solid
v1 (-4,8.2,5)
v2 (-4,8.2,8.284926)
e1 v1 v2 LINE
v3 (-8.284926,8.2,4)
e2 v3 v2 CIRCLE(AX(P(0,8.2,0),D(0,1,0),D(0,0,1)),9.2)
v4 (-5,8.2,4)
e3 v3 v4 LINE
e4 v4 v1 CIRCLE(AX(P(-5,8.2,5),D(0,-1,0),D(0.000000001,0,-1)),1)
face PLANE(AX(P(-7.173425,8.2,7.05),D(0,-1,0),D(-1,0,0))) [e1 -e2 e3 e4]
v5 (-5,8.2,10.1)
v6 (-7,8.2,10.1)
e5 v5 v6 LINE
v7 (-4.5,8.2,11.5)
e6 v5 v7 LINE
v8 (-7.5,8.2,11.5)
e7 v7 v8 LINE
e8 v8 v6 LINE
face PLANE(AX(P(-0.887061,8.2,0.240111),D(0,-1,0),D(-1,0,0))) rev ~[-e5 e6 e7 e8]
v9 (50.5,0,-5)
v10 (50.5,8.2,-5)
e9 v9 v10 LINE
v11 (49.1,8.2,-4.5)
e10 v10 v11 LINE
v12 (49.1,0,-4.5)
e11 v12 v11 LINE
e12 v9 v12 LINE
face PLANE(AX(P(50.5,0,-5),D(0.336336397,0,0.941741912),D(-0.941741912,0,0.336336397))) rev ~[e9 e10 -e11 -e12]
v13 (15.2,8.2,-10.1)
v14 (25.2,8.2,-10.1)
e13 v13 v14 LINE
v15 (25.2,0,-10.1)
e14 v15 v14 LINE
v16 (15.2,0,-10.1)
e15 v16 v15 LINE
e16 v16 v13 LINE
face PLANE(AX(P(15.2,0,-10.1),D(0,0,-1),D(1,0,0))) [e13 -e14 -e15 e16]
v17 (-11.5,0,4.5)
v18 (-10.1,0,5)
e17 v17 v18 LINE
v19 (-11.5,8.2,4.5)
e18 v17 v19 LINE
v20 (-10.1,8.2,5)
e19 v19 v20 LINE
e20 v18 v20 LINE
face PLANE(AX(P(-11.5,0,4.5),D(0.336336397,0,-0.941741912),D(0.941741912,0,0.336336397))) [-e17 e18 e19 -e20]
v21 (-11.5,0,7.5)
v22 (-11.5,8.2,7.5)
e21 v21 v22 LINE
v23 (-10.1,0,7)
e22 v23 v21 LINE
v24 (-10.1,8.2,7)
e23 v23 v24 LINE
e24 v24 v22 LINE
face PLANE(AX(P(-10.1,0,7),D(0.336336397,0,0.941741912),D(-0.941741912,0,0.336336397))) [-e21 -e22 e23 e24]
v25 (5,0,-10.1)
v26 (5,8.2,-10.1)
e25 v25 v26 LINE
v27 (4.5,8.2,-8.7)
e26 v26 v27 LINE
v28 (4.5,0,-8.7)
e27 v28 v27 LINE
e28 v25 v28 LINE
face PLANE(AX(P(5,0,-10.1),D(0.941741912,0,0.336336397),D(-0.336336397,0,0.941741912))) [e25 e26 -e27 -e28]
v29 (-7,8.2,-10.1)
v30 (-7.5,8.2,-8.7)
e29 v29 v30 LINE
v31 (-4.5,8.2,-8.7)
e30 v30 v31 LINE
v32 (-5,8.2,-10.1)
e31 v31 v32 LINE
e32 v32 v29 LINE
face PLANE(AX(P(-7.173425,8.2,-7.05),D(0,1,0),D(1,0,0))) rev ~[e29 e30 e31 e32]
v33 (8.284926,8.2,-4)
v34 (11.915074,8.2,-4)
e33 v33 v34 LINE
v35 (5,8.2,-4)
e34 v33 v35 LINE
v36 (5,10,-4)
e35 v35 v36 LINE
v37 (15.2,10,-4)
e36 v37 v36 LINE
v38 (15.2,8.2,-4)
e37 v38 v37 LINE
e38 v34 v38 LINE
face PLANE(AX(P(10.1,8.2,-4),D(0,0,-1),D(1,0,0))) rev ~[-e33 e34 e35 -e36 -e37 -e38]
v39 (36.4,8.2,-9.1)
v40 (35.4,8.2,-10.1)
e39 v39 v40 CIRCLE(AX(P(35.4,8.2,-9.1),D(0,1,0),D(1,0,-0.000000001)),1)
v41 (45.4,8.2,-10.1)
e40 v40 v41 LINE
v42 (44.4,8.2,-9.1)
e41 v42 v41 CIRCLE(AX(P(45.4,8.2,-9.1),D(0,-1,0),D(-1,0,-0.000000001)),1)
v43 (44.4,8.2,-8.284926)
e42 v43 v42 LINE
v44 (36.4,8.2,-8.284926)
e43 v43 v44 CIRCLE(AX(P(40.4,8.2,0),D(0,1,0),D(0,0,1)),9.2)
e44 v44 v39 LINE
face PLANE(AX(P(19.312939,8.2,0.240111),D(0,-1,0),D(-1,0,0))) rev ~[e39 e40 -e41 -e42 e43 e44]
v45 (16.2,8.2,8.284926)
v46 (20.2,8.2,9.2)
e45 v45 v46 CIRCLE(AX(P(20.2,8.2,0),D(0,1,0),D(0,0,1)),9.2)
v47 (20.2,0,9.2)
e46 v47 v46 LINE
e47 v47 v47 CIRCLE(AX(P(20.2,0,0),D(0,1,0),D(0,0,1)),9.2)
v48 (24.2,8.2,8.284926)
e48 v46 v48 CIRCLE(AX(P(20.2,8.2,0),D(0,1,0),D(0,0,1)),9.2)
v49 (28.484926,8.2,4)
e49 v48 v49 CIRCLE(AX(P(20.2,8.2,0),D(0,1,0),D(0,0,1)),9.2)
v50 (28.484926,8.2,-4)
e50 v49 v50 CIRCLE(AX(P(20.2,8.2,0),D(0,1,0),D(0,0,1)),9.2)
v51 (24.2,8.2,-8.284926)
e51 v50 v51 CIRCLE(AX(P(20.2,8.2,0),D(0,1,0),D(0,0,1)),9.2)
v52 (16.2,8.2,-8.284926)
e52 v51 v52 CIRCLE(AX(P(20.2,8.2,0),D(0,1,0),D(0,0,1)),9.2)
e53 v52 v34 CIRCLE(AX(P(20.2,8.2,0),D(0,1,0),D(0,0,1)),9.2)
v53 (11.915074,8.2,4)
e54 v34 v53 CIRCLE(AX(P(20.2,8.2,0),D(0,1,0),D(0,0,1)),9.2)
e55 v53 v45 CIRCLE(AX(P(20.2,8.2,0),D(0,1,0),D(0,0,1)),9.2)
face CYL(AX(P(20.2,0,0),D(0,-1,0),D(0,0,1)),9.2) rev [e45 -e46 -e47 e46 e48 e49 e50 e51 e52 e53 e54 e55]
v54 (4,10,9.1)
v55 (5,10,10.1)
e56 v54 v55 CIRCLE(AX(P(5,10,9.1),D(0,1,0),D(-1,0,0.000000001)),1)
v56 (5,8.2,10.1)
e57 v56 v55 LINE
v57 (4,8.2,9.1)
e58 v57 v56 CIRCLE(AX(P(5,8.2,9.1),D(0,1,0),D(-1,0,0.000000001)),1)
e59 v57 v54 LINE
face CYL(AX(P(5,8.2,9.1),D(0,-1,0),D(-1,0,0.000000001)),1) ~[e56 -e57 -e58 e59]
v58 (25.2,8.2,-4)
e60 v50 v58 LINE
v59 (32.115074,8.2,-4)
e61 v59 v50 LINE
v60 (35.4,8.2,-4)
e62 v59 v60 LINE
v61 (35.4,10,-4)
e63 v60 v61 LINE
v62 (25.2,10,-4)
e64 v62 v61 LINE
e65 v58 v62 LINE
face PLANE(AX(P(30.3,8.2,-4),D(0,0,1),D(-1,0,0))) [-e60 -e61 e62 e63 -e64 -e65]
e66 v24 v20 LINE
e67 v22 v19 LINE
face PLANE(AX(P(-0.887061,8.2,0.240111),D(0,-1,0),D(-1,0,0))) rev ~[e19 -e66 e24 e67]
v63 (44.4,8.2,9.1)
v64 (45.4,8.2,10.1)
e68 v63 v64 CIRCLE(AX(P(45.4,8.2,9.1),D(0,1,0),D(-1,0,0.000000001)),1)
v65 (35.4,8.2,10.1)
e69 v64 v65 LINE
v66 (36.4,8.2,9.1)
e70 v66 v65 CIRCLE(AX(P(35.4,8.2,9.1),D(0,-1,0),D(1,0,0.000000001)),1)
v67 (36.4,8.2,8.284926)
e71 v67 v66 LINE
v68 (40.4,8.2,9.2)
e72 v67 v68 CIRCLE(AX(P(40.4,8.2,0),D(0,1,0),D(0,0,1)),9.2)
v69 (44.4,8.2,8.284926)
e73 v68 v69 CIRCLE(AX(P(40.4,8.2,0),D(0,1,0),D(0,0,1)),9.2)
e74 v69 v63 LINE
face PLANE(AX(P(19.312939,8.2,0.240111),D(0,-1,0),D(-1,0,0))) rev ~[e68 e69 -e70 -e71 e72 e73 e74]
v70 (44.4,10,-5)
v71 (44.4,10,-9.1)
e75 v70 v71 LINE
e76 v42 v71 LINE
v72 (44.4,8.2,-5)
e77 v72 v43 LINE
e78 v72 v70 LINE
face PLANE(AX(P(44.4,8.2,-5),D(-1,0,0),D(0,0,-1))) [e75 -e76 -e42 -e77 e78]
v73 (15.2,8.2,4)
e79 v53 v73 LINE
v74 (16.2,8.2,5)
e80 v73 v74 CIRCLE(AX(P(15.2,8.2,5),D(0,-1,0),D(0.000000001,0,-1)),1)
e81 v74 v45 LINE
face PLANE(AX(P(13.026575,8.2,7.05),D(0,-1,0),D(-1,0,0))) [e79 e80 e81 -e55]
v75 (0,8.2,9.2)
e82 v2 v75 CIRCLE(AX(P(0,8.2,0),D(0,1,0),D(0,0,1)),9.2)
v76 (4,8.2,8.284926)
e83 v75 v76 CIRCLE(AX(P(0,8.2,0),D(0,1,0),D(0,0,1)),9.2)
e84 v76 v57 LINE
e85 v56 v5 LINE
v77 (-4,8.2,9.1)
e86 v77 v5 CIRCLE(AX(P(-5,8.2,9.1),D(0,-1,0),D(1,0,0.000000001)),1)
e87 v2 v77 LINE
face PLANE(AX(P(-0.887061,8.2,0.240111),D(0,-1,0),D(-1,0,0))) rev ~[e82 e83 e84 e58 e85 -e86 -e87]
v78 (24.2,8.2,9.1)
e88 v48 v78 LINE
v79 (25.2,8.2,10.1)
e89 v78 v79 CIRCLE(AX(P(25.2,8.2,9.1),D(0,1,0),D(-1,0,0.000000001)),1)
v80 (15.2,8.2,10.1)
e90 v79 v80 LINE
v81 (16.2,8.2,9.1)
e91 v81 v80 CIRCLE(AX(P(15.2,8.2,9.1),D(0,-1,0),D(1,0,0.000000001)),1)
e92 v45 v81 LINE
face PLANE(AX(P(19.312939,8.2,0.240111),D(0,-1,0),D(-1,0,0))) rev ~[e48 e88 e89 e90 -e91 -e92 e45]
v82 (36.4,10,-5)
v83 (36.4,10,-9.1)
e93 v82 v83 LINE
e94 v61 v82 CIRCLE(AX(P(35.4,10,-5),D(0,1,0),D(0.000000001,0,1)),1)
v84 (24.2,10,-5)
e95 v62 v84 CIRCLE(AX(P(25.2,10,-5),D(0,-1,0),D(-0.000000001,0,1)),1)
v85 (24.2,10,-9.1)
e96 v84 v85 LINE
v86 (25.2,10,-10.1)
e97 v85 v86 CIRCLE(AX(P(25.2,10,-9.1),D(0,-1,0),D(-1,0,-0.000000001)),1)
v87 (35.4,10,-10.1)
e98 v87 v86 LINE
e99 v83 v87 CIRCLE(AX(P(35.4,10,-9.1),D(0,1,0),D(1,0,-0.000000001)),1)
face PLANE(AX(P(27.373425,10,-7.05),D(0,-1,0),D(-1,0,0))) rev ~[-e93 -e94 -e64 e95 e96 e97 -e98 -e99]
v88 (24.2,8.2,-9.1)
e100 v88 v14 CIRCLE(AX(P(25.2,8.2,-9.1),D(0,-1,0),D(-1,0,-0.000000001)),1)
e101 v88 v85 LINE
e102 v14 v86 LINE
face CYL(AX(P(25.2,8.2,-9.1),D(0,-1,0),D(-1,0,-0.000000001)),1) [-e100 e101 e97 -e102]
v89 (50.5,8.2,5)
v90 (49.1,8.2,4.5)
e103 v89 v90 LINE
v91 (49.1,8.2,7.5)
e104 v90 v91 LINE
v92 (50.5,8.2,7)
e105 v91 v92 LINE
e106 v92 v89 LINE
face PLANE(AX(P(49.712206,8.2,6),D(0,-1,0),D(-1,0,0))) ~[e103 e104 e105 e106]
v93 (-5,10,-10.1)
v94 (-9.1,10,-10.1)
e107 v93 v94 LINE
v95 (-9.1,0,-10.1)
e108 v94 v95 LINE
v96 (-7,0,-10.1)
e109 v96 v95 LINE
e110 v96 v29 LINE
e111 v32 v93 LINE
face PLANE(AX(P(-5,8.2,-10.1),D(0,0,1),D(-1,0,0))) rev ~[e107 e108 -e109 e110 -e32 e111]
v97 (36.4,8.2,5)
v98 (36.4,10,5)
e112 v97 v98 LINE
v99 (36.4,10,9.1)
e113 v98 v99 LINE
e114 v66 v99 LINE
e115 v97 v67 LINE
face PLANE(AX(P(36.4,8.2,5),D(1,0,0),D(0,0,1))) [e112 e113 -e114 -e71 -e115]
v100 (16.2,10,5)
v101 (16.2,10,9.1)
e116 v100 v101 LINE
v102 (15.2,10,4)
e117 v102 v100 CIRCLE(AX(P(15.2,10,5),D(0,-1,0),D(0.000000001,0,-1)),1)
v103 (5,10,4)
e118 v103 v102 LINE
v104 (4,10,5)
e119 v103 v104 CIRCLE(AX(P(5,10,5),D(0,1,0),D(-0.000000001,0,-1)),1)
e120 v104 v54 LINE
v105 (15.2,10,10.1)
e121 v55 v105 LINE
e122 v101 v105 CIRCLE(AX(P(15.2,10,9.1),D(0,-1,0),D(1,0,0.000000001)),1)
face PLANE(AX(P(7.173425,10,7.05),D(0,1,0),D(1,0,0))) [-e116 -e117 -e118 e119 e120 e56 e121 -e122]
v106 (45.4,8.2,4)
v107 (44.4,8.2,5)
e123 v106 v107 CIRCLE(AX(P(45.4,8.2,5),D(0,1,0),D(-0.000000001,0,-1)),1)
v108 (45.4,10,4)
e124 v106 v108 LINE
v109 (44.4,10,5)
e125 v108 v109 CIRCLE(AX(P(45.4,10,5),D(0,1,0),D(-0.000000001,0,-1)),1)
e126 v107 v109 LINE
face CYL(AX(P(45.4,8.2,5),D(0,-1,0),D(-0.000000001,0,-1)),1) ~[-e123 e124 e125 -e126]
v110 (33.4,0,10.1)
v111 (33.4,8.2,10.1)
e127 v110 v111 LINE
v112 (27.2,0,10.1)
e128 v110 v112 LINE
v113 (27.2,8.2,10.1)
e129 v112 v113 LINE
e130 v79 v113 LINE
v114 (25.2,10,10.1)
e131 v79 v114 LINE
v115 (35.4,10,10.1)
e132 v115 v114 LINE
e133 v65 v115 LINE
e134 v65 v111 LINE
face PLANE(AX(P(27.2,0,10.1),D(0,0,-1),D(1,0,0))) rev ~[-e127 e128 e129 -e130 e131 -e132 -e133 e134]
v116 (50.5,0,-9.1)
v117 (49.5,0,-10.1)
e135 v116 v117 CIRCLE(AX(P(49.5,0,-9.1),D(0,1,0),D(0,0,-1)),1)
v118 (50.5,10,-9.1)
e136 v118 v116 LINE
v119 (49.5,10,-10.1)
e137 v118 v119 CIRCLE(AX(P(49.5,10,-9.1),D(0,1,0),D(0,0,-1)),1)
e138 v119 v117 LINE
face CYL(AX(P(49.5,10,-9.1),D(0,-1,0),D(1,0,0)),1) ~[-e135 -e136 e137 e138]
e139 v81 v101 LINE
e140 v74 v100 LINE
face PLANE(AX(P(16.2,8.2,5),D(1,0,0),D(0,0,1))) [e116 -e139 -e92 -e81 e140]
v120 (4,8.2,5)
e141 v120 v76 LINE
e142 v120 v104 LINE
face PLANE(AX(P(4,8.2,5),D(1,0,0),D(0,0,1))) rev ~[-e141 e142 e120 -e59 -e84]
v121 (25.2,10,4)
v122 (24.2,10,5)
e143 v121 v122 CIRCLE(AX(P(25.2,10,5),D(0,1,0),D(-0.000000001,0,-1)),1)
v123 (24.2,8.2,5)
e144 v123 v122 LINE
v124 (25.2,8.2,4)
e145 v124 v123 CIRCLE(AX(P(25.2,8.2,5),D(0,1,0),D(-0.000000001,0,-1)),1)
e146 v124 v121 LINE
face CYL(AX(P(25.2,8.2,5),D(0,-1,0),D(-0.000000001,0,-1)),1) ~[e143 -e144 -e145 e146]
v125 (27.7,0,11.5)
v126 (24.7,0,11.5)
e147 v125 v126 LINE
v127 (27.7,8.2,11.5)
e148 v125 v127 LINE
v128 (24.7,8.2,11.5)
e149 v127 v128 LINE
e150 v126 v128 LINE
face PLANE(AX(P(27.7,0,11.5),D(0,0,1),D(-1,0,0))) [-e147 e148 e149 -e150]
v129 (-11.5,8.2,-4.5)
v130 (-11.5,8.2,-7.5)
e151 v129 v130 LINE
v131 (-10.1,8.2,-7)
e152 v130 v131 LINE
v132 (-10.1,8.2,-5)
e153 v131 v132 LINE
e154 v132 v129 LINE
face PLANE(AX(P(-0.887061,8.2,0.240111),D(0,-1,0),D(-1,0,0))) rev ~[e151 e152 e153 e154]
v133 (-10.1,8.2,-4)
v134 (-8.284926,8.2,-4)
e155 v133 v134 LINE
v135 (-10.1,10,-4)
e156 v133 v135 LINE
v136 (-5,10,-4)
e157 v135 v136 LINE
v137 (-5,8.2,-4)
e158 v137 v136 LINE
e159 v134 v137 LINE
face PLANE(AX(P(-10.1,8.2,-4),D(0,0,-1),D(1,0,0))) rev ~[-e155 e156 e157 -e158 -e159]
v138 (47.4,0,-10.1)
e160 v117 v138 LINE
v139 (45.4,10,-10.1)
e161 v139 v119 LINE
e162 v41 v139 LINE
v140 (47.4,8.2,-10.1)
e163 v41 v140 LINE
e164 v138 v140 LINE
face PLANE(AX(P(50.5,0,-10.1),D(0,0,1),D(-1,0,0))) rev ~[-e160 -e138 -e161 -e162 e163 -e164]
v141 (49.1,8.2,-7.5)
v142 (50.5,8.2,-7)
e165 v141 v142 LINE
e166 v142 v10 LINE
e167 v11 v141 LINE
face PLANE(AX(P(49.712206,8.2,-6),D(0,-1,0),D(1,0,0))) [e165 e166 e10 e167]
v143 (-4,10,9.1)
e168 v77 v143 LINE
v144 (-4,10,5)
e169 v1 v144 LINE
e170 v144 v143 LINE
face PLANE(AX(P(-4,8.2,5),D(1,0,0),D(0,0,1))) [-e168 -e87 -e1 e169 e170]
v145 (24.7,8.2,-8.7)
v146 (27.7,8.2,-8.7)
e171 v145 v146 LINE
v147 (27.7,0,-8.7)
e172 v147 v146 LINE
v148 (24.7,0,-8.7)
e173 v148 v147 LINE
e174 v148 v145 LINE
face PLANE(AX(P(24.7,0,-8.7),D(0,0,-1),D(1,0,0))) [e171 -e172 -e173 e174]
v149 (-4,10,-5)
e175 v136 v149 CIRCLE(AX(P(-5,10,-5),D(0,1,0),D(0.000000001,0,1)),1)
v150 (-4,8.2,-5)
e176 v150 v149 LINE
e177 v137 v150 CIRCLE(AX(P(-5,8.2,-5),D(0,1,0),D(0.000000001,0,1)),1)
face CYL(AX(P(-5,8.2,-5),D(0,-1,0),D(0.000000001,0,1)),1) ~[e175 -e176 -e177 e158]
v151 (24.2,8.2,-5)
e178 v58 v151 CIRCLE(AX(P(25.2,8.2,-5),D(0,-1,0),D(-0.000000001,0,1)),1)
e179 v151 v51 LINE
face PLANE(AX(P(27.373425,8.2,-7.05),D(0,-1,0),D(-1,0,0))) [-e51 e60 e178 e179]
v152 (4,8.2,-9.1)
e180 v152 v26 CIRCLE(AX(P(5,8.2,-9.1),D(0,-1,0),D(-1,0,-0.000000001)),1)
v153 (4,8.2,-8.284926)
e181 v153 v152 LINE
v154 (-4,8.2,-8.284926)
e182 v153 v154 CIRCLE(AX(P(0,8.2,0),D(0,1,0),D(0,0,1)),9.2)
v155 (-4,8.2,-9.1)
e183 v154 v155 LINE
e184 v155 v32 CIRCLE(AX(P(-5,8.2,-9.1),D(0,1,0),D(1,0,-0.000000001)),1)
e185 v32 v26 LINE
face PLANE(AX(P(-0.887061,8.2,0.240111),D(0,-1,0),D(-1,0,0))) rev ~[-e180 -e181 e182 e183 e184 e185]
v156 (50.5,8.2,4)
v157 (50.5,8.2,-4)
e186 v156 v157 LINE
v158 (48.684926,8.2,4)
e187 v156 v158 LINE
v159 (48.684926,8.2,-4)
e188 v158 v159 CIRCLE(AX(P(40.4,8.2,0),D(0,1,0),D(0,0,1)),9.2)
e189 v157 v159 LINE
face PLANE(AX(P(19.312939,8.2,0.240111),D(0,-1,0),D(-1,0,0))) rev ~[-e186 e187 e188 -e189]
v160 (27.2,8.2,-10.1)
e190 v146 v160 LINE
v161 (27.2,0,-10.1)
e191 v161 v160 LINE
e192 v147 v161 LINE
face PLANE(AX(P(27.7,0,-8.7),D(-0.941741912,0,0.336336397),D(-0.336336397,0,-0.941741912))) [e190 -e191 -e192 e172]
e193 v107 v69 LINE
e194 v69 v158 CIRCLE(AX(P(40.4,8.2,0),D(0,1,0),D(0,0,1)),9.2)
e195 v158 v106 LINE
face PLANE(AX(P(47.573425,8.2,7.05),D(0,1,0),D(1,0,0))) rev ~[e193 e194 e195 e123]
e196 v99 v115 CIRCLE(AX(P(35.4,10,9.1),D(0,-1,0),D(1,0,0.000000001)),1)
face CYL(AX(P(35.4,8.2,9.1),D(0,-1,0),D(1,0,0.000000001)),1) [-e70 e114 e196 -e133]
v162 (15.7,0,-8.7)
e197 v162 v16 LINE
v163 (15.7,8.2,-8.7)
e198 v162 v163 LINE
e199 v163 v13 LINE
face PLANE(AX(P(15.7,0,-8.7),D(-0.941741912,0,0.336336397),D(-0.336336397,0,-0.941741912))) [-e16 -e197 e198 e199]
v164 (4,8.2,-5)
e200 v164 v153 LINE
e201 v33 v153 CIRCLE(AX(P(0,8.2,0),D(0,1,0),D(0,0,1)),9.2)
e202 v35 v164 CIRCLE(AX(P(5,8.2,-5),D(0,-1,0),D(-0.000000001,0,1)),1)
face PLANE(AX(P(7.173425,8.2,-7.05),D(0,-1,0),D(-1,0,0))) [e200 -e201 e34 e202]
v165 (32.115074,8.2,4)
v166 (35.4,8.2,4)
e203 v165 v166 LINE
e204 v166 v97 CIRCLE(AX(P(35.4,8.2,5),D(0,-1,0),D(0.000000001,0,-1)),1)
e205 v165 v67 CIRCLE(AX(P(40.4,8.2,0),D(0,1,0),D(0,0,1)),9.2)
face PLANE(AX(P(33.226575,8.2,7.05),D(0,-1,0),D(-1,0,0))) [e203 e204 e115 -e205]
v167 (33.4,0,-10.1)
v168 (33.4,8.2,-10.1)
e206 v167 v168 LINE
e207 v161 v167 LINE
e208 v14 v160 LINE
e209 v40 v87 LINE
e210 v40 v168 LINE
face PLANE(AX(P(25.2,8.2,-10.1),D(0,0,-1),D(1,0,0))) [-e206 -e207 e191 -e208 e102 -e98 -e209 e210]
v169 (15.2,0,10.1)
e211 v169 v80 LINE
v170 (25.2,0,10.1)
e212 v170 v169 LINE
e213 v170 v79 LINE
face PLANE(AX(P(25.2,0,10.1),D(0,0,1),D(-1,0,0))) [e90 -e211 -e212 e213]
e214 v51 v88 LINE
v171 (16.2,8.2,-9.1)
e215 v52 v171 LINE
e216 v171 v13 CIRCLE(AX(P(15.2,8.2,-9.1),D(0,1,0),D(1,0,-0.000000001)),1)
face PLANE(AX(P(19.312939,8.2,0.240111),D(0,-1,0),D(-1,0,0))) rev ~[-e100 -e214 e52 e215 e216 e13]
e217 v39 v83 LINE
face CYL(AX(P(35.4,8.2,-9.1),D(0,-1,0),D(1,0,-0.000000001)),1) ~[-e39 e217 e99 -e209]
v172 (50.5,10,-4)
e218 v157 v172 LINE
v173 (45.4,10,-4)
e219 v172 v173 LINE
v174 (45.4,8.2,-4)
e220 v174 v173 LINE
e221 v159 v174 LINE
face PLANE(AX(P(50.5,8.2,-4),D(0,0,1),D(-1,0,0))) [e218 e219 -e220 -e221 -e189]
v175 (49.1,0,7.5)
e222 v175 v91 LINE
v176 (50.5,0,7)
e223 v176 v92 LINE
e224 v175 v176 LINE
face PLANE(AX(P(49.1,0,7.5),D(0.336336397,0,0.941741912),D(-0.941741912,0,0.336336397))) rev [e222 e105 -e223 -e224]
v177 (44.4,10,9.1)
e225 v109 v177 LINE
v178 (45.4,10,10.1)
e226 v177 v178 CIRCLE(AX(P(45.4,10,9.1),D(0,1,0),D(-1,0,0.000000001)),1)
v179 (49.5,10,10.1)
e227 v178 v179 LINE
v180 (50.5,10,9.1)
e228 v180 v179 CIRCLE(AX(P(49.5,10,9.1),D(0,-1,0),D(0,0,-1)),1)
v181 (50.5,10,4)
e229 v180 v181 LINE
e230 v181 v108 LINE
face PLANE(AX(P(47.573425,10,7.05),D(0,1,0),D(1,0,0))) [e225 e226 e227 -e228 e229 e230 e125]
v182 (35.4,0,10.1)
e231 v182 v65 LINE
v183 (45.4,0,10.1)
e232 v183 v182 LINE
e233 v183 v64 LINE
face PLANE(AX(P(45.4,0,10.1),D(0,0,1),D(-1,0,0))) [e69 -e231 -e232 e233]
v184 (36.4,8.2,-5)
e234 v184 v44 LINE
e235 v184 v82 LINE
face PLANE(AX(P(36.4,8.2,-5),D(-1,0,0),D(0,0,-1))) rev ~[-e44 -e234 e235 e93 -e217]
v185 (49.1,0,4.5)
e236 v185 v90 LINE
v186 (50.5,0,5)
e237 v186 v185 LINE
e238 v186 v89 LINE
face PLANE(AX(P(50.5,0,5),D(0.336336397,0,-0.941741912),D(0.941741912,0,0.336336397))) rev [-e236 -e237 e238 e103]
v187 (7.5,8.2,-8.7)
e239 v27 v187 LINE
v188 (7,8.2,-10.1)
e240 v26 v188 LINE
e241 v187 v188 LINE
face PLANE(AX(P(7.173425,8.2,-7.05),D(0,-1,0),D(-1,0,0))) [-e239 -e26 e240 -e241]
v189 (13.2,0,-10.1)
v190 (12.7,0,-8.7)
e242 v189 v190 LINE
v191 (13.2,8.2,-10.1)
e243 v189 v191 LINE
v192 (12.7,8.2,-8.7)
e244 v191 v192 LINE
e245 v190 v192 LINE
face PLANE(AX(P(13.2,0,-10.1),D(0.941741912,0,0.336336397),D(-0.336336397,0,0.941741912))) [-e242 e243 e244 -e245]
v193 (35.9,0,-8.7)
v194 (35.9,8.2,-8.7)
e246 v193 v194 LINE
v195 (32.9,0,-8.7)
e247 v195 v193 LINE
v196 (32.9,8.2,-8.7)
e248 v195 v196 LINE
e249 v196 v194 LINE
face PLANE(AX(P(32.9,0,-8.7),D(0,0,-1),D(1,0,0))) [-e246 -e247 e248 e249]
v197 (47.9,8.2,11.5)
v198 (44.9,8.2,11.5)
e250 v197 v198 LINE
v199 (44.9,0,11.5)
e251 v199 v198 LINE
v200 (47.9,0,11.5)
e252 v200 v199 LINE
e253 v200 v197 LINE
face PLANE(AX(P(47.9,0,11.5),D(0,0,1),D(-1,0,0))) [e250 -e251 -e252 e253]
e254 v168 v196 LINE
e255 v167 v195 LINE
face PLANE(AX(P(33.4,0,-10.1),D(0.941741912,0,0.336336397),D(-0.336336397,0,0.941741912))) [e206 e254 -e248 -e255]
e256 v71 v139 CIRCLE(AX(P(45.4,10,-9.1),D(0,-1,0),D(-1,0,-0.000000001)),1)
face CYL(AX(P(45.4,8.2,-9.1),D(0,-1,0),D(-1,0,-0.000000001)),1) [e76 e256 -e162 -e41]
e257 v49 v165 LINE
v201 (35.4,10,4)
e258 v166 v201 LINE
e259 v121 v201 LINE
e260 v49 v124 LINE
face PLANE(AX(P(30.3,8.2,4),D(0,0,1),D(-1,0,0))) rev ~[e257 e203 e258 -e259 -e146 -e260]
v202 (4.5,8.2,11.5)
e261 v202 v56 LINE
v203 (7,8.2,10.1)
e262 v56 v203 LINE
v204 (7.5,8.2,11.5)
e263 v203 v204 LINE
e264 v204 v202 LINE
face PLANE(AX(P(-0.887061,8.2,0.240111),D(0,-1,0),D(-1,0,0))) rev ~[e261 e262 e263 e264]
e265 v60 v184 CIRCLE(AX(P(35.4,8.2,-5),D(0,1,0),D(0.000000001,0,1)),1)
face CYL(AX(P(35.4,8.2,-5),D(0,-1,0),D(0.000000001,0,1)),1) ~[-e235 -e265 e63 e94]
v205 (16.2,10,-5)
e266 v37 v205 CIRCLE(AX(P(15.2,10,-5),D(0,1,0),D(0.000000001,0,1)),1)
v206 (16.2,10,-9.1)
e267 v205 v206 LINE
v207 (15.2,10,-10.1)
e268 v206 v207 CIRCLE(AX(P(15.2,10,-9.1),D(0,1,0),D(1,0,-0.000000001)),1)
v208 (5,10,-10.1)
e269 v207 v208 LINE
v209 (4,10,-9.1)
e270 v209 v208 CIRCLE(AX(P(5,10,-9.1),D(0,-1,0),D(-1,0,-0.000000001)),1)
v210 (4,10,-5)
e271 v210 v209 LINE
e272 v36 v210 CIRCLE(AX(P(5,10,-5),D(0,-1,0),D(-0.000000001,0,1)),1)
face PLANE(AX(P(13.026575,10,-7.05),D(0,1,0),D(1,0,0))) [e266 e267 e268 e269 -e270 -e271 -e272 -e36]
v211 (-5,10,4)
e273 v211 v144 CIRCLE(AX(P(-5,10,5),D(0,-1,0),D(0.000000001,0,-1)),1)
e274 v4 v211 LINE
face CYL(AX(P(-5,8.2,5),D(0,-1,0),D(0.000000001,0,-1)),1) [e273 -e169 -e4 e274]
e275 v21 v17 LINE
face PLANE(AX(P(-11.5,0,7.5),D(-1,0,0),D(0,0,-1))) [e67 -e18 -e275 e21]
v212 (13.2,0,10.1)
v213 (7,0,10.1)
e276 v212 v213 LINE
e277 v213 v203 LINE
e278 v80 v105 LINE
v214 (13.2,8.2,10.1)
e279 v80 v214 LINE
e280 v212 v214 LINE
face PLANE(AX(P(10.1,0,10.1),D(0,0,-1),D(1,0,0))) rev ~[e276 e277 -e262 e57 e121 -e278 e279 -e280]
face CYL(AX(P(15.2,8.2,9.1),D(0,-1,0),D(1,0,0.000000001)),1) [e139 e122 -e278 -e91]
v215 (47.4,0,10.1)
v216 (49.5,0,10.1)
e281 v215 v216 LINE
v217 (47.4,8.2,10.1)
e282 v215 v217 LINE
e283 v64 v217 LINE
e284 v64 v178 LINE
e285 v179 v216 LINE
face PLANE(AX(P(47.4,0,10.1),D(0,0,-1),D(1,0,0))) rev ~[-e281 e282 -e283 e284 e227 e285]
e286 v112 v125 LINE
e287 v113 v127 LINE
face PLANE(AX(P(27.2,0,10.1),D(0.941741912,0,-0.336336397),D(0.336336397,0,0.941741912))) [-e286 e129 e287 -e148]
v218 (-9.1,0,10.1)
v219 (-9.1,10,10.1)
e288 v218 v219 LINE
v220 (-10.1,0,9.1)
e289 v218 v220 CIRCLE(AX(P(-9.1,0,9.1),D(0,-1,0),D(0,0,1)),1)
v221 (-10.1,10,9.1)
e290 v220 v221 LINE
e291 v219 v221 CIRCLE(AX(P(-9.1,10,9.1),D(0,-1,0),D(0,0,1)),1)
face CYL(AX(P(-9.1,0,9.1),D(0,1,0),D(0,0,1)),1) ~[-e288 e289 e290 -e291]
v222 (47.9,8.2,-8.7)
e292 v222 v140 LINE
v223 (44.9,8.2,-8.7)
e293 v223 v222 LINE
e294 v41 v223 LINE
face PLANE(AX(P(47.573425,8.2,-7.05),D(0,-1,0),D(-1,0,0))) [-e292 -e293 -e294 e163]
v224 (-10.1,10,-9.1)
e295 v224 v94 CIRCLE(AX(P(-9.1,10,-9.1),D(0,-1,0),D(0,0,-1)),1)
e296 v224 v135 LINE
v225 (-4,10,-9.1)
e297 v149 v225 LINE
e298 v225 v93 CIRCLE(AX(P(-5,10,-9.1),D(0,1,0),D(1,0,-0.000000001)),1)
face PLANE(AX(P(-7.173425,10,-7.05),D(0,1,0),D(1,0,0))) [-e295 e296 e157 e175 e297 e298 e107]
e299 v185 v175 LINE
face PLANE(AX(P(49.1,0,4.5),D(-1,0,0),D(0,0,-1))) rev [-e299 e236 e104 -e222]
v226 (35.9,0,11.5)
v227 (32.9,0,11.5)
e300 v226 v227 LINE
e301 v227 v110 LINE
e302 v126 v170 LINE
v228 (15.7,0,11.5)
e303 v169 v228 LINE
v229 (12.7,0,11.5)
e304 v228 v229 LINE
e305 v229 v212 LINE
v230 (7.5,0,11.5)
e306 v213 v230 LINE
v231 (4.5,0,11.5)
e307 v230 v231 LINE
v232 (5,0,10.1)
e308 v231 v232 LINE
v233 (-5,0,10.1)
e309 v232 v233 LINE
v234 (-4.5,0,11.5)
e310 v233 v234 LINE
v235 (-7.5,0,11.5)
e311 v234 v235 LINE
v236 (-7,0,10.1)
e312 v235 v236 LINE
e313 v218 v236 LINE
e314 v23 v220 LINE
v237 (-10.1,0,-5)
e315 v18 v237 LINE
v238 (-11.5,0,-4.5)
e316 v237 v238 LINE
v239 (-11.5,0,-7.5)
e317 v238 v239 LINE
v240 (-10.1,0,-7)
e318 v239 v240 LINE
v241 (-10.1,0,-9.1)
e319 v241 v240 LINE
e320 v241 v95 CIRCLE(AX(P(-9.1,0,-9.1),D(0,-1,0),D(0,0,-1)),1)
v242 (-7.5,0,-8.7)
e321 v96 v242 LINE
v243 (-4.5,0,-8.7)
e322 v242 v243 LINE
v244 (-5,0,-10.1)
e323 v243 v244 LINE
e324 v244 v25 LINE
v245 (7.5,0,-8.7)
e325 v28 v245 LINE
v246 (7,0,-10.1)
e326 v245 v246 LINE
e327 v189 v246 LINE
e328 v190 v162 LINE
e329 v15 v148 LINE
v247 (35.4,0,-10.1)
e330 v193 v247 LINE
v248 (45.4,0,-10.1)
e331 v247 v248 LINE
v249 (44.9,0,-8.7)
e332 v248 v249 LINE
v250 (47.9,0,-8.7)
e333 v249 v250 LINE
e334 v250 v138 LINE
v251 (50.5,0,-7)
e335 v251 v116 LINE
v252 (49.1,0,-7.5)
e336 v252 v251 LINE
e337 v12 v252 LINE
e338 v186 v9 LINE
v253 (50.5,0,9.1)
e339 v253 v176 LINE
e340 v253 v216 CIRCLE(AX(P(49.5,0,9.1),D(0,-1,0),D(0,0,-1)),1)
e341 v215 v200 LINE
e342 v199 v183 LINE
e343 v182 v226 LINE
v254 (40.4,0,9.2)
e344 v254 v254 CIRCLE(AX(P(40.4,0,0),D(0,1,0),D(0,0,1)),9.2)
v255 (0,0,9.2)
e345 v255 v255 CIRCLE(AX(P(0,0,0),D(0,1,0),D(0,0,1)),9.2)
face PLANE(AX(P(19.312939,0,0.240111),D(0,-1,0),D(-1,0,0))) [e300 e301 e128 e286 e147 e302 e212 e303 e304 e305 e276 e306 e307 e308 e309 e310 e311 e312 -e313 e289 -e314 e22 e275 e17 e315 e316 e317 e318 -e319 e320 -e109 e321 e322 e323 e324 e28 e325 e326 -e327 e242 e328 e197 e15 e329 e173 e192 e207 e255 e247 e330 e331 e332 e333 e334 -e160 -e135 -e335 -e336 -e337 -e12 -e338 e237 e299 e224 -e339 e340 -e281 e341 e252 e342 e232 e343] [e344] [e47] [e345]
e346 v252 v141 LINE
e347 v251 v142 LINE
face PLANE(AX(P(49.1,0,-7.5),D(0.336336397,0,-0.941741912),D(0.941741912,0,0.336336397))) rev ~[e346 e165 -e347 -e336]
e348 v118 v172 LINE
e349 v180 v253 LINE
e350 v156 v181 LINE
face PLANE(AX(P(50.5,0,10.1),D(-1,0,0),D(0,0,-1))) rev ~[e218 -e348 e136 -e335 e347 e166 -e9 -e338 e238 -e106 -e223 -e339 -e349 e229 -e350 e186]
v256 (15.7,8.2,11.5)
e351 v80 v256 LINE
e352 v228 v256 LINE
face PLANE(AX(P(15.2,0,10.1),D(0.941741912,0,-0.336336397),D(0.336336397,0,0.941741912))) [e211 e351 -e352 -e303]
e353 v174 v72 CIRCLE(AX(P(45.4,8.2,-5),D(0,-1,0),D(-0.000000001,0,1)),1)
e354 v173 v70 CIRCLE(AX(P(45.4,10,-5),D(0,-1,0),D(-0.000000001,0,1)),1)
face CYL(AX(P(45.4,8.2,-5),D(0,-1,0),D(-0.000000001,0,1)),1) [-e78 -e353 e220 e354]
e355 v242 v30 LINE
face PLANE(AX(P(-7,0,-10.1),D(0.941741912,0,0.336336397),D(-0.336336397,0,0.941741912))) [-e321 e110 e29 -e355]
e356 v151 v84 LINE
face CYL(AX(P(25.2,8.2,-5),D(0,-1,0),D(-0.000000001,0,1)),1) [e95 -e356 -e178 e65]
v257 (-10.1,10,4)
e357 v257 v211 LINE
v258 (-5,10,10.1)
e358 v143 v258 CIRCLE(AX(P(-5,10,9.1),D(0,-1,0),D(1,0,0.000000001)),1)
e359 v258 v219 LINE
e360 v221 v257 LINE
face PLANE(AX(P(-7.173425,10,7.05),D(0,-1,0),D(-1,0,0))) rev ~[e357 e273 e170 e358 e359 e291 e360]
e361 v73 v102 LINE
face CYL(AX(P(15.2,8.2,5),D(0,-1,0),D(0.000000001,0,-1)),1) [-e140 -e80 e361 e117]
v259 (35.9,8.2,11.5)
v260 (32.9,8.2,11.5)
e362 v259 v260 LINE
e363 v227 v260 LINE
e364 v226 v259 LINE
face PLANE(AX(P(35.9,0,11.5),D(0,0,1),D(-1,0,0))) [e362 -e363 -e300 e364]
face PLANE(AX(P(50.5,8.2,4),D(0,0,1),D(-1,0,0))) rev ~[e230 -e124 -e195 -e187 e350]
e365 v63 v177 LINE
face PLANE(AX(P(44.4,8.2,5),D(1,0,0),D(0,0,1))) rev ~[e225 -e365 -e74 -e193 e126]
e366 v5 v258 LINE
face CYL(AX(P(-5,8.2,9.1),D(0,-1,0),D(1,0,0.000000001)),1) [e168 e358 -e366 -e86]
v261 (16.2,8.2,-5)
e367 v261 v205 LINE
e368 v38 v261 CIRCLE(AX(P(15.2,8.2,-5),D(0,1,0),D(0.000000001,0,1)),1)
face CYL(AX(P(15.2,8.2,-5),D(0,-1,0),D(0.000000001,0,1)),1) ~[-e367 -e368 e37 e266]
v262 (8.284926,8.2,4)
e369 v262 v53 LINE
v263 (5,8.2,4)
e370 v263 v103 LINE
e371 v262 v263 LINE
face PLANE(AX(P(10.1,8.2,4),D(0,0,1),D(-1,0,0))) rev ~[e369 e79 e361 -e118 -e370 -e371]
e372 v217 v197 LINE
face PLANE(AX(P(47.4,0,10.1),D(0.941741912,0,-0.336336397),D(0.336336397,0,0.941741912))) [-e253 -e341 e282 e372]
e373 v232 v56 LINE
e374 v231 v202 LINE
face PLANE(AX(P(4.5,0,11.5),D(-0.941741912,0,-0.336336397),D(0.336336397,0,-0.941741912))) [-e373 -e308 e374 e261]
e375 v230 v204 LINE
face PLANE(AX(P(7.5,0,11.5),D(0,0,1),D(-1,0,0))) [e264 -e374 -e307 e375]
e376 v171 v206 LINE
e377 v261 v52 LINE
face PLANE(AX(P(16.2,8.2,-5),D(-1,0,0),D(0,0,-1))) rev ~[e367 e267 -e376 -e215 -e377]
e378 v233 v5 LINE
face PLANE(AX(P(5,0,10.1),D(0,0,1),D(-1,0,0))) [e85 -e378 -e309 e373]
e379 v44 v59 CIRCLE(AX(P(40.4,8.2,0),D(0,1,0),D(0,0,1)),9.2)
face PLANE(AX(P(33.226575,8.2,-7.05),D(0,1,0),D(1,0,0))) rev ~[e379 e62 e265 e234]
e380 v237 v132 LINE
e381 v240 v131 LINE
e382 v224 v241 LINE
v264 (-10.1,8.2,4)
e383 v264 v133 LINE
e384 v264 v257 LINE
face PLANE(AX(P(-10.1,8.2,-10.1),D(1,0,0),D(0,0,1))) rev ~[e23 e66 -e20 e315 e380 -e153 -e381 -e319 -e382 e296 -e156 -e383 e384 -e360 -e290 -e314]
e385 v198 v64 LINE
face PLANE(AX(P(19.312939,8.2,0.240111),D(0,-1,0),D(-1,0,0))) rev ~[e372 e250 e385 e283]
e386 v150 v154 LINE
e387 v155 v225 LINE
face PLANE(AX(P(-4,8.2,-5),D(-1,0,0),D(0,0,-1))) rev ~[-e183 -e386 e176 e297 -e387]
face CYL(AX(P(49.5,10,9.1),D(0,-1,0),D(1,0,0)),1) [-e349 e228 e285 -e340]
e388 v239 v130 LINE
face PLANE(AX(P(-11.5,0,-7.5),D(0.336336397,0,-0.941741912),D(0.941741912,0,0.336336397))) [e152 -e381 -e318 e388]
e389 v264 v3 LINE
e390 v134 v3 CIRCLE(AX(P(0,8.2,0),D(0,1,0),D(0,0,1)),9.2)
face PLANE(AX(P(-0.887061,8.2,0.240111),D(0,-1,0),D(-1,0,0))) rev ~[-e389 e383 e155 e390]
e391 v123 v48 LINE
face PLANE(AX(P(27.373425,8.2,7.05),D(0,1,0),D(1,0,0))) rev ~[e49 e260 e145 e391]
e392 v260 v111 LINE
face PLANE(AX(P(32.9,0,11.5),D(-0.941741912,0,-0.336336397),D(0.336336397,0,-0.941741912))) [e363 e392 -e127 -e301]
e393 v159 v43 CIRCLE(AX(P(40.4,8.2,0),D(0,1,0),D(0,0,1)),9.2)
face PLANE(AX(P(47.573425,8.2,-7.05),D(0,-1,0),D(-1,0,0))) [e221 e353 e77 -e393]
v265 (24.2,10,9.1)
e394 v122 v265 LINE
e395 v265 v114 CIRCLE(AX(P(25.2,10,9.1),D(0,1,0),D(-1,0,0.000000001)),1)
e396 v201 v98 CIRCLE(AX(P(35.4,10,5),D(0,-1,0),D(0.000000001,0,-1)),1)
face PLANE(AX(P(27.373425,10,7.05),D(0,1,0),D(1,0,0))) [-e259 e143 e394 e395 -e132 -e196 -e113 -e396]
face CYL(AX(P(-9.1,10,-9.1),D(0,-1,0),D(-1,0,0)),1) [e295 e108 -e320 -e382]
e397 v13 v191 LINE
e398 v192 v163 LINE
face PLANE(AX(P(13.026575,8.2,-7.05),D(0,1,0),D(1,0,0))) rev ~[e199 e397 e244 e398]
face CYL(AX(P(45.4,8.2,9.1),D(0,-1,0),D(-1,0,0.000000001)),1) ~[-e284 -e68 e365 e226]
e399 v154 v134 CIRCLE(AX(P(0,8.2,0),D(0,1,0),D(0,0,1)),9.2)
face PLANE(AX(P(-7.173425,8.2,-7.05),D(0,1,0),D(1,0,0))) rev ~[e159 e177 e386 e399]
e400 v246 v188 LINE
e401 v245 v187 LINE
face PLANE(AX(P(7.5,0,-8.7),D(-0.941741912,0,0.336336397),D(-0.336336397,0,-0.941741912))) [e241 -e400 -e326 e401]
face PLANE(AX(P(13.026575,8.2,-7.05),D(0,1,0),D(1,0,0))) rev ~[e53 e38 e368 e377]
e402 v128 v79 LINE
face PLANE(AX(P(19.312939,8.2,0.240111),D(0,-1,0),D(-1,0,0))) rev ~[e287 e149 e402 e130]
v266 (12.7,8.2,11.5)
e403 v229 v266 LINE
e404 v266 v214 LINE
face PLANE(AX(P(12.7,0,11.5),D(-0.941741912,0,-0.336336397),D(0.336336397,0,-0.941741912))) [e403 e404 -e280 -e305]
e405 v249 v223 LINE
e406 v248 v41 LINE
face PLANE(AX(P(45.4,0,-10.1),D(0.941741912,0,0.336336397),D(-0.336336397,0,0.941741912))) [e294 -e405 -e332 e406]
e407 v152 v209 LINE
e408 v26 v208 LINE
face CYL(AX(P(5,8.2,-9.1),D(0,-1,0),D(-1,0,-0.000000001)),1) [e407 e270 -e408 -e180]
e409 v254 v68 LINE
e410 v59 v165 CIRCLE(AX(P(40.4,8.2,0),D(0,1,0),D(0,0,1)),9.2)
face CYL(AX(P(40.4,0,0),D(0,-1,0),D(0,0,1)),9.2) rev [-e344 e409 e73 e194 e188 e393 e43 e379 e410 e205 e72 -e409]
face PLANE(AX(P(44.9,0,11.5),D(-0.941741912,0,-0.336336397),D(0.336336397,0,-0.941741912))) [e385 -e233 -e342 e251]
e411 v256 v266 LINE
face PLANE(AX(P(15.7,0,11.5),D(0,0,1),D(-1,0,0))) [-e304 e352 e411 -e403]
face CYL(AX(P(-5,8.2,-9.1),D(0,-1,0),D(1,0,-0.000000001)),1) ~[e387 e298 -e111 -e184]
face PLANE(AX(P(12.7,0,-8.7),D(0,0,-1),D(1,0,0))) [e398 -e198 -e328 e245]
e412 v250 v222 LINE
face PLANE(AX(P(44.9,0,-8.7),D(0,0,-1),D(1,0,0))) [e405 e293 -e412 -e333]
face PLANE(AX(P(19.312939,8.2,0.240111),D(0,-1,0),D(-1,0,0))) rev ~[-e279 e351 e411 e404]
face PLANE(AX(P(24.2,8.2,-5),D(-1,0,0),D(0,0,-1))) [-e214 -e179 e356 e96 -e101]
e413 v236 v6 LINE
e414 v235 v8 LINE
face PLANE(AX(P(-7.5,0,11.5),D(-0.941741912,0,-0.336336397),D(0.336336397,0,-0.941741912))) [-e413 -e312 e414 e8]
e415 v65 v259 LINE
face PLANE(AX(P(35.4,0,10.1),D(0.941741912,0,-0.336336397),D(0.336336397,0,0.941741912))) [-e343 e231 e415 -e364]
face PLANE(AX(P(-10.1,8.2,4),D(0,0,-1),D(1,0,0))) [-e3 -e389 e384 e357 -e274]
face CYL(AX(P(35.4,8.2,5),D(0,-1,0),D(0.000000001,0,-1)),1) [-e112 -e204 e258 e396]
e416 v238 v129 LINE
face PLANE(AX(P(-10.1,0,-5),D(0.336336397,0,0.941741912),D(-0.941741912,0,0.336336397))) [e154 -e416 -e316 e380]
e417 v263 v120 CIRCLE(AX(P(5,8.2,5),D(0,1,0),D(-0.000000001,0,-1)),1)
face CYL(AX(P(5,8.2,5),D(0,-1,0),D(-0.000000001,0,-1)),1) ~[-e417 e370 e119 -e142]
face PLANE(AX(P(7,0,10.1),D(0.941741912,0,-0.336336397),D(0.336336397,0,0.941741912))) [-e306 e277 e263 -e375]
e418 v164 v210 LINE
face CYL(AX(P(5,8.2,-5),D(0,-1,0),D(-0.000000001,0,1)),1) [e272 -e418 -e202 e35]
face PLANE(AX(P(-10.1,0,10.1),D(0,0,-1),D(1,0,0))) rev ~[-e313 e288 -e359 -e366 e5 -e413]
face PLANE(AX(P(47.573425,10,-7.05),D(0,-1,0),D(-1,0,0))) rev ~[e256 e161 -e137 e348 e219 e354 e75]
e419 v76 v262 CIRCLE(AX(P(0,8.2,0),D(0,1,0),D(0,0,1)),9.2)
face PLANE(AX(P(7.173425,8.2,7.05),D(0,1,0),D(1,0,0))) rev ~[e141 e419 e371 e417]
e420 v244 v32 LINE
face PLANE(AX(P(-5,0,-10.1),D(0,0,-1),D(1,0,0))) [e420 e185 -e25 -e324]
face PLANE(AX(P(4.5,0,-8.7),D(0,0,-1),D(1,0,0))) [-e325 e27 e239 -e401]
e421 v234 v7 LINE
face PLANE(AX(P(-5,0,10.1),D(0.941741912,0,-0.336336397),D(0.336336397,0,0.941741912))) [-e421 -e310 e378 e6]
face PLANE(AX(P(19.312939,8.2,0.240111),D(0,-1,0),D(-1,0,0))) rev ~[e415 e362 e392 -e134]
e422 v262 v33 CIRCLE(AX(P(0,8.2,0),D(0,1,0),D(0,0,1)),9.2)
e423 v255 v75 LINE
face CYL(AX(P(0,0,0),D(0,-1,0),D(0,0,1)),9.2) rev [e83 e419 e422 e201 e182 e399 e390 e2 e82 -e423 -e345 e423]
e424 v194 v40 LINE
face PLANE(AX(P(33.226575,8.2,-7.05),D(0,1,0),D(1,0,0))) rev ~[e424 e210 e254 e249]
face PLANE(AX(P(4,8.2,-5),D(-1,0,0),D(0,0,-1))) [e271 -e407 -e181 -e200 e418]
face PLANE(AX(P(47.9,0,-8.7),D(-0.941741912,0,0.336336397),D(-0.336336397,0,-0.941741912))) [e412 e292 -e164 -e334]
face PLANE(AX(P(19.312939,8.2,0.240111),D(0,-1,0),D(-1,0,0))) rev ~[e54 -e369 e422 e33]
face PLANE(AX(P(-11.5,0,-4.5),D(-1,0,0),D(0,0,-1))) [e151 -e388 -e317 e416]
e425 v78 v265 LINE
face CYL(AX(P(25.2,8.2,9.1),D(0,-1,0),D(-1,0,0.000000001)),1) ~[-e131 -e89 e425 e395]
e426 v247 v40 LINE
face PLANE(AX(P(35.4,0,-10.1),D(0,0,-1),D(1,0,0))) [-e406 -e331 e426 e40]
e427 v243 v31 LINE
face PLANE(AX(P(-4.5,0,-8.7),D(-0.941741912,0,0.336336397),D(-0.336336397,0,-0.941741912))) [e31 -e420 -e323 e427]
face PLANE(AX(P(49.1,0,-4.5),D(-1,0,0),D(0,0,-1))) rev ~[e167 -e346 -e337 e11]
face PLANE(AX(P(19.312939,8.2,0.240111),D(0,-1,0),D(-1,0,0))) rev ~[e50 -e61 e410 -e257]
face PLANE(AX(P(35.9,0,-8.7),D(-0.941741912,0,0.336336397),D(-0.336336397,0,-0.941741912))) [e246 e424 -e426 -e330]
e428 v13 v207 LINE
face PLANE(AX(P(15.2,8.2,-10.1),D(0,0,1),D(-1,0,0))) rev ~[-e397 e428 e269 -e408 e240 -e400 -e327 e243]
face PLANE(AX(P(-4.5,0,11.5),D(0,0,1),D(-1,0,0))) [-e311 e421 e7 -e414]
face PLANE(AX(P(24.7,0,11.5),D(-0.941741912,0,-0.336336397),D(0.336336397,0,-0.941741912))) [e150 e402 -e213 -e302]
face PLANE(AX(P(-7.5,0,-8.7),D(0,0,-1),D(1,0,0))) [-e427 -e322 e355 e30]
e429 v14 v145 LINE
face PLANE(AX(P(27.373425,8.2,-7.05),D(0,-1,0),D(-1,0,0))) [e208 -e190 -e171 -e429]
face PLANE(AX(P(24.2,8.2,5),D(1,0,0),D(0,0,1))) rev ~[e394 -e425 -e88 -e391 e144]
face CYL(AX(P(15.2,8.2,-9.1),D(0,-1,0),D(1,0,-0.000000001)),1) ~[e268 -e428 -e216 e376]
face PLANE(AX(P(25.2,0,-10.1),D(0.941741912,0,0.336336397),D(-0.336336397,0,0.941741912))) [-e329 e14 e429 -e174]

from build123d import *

# Parameters (mm, degrees)
SKETCH1_R           = 9.2
BOSS_EXTRUDE1_DEPTH = 8.2
BOSS_EXTRUDE2_DEPTH = 1.8
LPATTERN1_COUNT     = 3
LPATTERN1_PITCH     = 20.2
FILLET1_R           = 1
CUT_EXTRUDE1_DEPTH  = 8.2


with BuildPart() as part:
    # Sketch1 → Boss-Extrude1 (new body)
    with BuildSketch(Plane(origin=(0, 0, 0), x_dir=(1, 0, 0), z_dir=(0, 1, 0))):
        Polygon((-9.1, 10.1), (-7, 10.1), (-7.5, 8.7), (-4.5, 8.7), (-5, 10.1), (5, 10.1), (4.5, 8.7), (7.5, 8.7), (7, 10.1), (9.1, 10.1), (10.1, 10.1), (10.1, 9.1), (10.1, 7), (10.1, 5), (10.1, -5), (10.1, -7), (10.1, -9.1), (10.1, -10.1), (9.1, -10.1), (7, -10.1), (7.5, -11.5), (4.5, -11.5), (5, -10.1), (-5, -10.1), (-4.5, -11.5), (-7.5, -11.5), (-7, -10.1), (-9.1, -10.1), (-10.1, -10.1), (-10.1, -9.1), (-10.1, -7), (-11.5, -7.5), (-11.5, -4.5), (-10.1, -5), (-10.1, 5), (-11.5, 4.5), (-11.5, 7.5), (-10.1, 7), (-10.1, 9.1), (-10.1, 10.1), align=None)
        with Locations(Location((0, 0, 0), (0, 0, 270))):
            Circle(SKETCH1_R, mode=Mode.SUBTRACT)
    boss_extrude1 = extrude(amount=BOSS_EXTRUDE1_DEPTH)

    # Sketch2 → Boss-Extrude2 (add)
    with BuildSketch(Plane(origin=(0, 8.2, 0), x_dir=(1, 0, 0), z_dir=(0, 1, 0))):
        with BuildLine():
            Line((-9.1, 4), (-5, 4))
            ThreePointArc((-5, 4), (-4.292893219, 4.292893219), (-4, 5))
            Line((-4, 5), (-4, 9.1))
            ThreePointArc((-4, 9.1), (-4.292893219, 9.807106781), (-5, 10.1))
            Line((-5, 10.1), (-9.1, 10.1))
            Line((-9.1, 10.1), (-10.1, 10.1))
            Line((-10.1, 10.1), (-10.1, 9.1))
            Line((-10.1, 9.1), (-10.1, 5))
            Line((-10.1, 5), (-10.1, 4))
            Line((-10.1, 4), (-9.1, 4))
        make_face()
        with BuildLine():
            Line((9.1, 10.1), (10.1, 10.1))
            Line((10.1, 10.1), (10.1, 4))
            Line((10.1, 4), (9.1, 4))
            Line((9.1, 4), (5, 4))
            ThreePointArc((5, 4), (4.292893219, 4.292893219), (4, 5))
            Line((4, 5), (4, 9.1))
            ThreePointArc((4, 9.1), (4.292893219, 9.807106781), (5, 10.1))
            Line((5, 10.1), (9.1, 10.1))
        make_face()
        with BuildLine():
            Line((9.1, -4), (5, -4))
            ThreePointArc((5, -4), (4.292893219, -4.292893219), (4, -5))
            Line((4, -5), (4, -9.1))
            ThreePointArc((4, -9.1), (4.292893219, -9.807106781), (5, -10.1))
            Line((5, -10.1), (9.1, -10.1))
            Line((9.1, -10.1), (10.1, -10.1))
            Line((10.1, -10.1), (10.1, -4))
            Line((10.1, -4), (9.1, -4))
        make_face()
        with BuildLine():
            Line((-4, -5), (-4, -9.1))
            ThreePointArc((-4, -9.1), (-4.292893219, -9.807106781), (-5, -10.1))
            Line((-5, -10.1), (-9.1, -10.1))
            Line((-9.1, -10.1), (-10.1, -10.1))
            Line((-10.1, -10.1), (-10.1, -9.1))
            Line((-10.1, -9.1), (-10.1, -5))
            Line((-10.1, -5), (-10.1, -4))
            Line((-10.1, -4), (-9.1, -4))
            Line((-9.1, -4), (-5, -4))
            ThreePointArc((-5, -4), (-4.292893219, -4.292893219), (-4, -5))
        make_face()
    boss_extrude2 = extrude(amount=BOSS_EXTRUDE2_DEPTH)

    # LPattern1: Boss-Extrude1, Boss-Extrude2 ×3
    with Locations(*[(i * LPATTERN1_PITCH, 0, 0) for i in range(1, LPATTERN1_COUNT)]):
        add(boss_extrude1)
        add(boss_extrude2)

    # Fillet1
    fillet1_edges = [part.edges().sort_by_distance(p)[0] for p in [
        (50.5, 5, 10.1),
        (50.5, 5, -10.1),
        (-10.1, 5, 10.1),
        (-10.1, 5, -10.1),
    ]]
    fillet(fillet1_edges, radius=FILLET1_R)

    # Sketch5 → Cut-Extrude1 (cut)
    with BuildSketch(Plane.XZ):
        Polygon((50.5, -5), (49.1, -4.5), (49.1, -7.5), (50.5, -7), align=None)
    cut_extrude1 = extrude(amount=-CUT_EXTRUDE1_DEPTH, mode=Mode.SUBTRACT)

    # Mirror1: Cut-Extrude1 across plane
    add(cut_extrude1.mirror(Plane.XY), mode=Mode.SUBTRACT)


solid = part.part
